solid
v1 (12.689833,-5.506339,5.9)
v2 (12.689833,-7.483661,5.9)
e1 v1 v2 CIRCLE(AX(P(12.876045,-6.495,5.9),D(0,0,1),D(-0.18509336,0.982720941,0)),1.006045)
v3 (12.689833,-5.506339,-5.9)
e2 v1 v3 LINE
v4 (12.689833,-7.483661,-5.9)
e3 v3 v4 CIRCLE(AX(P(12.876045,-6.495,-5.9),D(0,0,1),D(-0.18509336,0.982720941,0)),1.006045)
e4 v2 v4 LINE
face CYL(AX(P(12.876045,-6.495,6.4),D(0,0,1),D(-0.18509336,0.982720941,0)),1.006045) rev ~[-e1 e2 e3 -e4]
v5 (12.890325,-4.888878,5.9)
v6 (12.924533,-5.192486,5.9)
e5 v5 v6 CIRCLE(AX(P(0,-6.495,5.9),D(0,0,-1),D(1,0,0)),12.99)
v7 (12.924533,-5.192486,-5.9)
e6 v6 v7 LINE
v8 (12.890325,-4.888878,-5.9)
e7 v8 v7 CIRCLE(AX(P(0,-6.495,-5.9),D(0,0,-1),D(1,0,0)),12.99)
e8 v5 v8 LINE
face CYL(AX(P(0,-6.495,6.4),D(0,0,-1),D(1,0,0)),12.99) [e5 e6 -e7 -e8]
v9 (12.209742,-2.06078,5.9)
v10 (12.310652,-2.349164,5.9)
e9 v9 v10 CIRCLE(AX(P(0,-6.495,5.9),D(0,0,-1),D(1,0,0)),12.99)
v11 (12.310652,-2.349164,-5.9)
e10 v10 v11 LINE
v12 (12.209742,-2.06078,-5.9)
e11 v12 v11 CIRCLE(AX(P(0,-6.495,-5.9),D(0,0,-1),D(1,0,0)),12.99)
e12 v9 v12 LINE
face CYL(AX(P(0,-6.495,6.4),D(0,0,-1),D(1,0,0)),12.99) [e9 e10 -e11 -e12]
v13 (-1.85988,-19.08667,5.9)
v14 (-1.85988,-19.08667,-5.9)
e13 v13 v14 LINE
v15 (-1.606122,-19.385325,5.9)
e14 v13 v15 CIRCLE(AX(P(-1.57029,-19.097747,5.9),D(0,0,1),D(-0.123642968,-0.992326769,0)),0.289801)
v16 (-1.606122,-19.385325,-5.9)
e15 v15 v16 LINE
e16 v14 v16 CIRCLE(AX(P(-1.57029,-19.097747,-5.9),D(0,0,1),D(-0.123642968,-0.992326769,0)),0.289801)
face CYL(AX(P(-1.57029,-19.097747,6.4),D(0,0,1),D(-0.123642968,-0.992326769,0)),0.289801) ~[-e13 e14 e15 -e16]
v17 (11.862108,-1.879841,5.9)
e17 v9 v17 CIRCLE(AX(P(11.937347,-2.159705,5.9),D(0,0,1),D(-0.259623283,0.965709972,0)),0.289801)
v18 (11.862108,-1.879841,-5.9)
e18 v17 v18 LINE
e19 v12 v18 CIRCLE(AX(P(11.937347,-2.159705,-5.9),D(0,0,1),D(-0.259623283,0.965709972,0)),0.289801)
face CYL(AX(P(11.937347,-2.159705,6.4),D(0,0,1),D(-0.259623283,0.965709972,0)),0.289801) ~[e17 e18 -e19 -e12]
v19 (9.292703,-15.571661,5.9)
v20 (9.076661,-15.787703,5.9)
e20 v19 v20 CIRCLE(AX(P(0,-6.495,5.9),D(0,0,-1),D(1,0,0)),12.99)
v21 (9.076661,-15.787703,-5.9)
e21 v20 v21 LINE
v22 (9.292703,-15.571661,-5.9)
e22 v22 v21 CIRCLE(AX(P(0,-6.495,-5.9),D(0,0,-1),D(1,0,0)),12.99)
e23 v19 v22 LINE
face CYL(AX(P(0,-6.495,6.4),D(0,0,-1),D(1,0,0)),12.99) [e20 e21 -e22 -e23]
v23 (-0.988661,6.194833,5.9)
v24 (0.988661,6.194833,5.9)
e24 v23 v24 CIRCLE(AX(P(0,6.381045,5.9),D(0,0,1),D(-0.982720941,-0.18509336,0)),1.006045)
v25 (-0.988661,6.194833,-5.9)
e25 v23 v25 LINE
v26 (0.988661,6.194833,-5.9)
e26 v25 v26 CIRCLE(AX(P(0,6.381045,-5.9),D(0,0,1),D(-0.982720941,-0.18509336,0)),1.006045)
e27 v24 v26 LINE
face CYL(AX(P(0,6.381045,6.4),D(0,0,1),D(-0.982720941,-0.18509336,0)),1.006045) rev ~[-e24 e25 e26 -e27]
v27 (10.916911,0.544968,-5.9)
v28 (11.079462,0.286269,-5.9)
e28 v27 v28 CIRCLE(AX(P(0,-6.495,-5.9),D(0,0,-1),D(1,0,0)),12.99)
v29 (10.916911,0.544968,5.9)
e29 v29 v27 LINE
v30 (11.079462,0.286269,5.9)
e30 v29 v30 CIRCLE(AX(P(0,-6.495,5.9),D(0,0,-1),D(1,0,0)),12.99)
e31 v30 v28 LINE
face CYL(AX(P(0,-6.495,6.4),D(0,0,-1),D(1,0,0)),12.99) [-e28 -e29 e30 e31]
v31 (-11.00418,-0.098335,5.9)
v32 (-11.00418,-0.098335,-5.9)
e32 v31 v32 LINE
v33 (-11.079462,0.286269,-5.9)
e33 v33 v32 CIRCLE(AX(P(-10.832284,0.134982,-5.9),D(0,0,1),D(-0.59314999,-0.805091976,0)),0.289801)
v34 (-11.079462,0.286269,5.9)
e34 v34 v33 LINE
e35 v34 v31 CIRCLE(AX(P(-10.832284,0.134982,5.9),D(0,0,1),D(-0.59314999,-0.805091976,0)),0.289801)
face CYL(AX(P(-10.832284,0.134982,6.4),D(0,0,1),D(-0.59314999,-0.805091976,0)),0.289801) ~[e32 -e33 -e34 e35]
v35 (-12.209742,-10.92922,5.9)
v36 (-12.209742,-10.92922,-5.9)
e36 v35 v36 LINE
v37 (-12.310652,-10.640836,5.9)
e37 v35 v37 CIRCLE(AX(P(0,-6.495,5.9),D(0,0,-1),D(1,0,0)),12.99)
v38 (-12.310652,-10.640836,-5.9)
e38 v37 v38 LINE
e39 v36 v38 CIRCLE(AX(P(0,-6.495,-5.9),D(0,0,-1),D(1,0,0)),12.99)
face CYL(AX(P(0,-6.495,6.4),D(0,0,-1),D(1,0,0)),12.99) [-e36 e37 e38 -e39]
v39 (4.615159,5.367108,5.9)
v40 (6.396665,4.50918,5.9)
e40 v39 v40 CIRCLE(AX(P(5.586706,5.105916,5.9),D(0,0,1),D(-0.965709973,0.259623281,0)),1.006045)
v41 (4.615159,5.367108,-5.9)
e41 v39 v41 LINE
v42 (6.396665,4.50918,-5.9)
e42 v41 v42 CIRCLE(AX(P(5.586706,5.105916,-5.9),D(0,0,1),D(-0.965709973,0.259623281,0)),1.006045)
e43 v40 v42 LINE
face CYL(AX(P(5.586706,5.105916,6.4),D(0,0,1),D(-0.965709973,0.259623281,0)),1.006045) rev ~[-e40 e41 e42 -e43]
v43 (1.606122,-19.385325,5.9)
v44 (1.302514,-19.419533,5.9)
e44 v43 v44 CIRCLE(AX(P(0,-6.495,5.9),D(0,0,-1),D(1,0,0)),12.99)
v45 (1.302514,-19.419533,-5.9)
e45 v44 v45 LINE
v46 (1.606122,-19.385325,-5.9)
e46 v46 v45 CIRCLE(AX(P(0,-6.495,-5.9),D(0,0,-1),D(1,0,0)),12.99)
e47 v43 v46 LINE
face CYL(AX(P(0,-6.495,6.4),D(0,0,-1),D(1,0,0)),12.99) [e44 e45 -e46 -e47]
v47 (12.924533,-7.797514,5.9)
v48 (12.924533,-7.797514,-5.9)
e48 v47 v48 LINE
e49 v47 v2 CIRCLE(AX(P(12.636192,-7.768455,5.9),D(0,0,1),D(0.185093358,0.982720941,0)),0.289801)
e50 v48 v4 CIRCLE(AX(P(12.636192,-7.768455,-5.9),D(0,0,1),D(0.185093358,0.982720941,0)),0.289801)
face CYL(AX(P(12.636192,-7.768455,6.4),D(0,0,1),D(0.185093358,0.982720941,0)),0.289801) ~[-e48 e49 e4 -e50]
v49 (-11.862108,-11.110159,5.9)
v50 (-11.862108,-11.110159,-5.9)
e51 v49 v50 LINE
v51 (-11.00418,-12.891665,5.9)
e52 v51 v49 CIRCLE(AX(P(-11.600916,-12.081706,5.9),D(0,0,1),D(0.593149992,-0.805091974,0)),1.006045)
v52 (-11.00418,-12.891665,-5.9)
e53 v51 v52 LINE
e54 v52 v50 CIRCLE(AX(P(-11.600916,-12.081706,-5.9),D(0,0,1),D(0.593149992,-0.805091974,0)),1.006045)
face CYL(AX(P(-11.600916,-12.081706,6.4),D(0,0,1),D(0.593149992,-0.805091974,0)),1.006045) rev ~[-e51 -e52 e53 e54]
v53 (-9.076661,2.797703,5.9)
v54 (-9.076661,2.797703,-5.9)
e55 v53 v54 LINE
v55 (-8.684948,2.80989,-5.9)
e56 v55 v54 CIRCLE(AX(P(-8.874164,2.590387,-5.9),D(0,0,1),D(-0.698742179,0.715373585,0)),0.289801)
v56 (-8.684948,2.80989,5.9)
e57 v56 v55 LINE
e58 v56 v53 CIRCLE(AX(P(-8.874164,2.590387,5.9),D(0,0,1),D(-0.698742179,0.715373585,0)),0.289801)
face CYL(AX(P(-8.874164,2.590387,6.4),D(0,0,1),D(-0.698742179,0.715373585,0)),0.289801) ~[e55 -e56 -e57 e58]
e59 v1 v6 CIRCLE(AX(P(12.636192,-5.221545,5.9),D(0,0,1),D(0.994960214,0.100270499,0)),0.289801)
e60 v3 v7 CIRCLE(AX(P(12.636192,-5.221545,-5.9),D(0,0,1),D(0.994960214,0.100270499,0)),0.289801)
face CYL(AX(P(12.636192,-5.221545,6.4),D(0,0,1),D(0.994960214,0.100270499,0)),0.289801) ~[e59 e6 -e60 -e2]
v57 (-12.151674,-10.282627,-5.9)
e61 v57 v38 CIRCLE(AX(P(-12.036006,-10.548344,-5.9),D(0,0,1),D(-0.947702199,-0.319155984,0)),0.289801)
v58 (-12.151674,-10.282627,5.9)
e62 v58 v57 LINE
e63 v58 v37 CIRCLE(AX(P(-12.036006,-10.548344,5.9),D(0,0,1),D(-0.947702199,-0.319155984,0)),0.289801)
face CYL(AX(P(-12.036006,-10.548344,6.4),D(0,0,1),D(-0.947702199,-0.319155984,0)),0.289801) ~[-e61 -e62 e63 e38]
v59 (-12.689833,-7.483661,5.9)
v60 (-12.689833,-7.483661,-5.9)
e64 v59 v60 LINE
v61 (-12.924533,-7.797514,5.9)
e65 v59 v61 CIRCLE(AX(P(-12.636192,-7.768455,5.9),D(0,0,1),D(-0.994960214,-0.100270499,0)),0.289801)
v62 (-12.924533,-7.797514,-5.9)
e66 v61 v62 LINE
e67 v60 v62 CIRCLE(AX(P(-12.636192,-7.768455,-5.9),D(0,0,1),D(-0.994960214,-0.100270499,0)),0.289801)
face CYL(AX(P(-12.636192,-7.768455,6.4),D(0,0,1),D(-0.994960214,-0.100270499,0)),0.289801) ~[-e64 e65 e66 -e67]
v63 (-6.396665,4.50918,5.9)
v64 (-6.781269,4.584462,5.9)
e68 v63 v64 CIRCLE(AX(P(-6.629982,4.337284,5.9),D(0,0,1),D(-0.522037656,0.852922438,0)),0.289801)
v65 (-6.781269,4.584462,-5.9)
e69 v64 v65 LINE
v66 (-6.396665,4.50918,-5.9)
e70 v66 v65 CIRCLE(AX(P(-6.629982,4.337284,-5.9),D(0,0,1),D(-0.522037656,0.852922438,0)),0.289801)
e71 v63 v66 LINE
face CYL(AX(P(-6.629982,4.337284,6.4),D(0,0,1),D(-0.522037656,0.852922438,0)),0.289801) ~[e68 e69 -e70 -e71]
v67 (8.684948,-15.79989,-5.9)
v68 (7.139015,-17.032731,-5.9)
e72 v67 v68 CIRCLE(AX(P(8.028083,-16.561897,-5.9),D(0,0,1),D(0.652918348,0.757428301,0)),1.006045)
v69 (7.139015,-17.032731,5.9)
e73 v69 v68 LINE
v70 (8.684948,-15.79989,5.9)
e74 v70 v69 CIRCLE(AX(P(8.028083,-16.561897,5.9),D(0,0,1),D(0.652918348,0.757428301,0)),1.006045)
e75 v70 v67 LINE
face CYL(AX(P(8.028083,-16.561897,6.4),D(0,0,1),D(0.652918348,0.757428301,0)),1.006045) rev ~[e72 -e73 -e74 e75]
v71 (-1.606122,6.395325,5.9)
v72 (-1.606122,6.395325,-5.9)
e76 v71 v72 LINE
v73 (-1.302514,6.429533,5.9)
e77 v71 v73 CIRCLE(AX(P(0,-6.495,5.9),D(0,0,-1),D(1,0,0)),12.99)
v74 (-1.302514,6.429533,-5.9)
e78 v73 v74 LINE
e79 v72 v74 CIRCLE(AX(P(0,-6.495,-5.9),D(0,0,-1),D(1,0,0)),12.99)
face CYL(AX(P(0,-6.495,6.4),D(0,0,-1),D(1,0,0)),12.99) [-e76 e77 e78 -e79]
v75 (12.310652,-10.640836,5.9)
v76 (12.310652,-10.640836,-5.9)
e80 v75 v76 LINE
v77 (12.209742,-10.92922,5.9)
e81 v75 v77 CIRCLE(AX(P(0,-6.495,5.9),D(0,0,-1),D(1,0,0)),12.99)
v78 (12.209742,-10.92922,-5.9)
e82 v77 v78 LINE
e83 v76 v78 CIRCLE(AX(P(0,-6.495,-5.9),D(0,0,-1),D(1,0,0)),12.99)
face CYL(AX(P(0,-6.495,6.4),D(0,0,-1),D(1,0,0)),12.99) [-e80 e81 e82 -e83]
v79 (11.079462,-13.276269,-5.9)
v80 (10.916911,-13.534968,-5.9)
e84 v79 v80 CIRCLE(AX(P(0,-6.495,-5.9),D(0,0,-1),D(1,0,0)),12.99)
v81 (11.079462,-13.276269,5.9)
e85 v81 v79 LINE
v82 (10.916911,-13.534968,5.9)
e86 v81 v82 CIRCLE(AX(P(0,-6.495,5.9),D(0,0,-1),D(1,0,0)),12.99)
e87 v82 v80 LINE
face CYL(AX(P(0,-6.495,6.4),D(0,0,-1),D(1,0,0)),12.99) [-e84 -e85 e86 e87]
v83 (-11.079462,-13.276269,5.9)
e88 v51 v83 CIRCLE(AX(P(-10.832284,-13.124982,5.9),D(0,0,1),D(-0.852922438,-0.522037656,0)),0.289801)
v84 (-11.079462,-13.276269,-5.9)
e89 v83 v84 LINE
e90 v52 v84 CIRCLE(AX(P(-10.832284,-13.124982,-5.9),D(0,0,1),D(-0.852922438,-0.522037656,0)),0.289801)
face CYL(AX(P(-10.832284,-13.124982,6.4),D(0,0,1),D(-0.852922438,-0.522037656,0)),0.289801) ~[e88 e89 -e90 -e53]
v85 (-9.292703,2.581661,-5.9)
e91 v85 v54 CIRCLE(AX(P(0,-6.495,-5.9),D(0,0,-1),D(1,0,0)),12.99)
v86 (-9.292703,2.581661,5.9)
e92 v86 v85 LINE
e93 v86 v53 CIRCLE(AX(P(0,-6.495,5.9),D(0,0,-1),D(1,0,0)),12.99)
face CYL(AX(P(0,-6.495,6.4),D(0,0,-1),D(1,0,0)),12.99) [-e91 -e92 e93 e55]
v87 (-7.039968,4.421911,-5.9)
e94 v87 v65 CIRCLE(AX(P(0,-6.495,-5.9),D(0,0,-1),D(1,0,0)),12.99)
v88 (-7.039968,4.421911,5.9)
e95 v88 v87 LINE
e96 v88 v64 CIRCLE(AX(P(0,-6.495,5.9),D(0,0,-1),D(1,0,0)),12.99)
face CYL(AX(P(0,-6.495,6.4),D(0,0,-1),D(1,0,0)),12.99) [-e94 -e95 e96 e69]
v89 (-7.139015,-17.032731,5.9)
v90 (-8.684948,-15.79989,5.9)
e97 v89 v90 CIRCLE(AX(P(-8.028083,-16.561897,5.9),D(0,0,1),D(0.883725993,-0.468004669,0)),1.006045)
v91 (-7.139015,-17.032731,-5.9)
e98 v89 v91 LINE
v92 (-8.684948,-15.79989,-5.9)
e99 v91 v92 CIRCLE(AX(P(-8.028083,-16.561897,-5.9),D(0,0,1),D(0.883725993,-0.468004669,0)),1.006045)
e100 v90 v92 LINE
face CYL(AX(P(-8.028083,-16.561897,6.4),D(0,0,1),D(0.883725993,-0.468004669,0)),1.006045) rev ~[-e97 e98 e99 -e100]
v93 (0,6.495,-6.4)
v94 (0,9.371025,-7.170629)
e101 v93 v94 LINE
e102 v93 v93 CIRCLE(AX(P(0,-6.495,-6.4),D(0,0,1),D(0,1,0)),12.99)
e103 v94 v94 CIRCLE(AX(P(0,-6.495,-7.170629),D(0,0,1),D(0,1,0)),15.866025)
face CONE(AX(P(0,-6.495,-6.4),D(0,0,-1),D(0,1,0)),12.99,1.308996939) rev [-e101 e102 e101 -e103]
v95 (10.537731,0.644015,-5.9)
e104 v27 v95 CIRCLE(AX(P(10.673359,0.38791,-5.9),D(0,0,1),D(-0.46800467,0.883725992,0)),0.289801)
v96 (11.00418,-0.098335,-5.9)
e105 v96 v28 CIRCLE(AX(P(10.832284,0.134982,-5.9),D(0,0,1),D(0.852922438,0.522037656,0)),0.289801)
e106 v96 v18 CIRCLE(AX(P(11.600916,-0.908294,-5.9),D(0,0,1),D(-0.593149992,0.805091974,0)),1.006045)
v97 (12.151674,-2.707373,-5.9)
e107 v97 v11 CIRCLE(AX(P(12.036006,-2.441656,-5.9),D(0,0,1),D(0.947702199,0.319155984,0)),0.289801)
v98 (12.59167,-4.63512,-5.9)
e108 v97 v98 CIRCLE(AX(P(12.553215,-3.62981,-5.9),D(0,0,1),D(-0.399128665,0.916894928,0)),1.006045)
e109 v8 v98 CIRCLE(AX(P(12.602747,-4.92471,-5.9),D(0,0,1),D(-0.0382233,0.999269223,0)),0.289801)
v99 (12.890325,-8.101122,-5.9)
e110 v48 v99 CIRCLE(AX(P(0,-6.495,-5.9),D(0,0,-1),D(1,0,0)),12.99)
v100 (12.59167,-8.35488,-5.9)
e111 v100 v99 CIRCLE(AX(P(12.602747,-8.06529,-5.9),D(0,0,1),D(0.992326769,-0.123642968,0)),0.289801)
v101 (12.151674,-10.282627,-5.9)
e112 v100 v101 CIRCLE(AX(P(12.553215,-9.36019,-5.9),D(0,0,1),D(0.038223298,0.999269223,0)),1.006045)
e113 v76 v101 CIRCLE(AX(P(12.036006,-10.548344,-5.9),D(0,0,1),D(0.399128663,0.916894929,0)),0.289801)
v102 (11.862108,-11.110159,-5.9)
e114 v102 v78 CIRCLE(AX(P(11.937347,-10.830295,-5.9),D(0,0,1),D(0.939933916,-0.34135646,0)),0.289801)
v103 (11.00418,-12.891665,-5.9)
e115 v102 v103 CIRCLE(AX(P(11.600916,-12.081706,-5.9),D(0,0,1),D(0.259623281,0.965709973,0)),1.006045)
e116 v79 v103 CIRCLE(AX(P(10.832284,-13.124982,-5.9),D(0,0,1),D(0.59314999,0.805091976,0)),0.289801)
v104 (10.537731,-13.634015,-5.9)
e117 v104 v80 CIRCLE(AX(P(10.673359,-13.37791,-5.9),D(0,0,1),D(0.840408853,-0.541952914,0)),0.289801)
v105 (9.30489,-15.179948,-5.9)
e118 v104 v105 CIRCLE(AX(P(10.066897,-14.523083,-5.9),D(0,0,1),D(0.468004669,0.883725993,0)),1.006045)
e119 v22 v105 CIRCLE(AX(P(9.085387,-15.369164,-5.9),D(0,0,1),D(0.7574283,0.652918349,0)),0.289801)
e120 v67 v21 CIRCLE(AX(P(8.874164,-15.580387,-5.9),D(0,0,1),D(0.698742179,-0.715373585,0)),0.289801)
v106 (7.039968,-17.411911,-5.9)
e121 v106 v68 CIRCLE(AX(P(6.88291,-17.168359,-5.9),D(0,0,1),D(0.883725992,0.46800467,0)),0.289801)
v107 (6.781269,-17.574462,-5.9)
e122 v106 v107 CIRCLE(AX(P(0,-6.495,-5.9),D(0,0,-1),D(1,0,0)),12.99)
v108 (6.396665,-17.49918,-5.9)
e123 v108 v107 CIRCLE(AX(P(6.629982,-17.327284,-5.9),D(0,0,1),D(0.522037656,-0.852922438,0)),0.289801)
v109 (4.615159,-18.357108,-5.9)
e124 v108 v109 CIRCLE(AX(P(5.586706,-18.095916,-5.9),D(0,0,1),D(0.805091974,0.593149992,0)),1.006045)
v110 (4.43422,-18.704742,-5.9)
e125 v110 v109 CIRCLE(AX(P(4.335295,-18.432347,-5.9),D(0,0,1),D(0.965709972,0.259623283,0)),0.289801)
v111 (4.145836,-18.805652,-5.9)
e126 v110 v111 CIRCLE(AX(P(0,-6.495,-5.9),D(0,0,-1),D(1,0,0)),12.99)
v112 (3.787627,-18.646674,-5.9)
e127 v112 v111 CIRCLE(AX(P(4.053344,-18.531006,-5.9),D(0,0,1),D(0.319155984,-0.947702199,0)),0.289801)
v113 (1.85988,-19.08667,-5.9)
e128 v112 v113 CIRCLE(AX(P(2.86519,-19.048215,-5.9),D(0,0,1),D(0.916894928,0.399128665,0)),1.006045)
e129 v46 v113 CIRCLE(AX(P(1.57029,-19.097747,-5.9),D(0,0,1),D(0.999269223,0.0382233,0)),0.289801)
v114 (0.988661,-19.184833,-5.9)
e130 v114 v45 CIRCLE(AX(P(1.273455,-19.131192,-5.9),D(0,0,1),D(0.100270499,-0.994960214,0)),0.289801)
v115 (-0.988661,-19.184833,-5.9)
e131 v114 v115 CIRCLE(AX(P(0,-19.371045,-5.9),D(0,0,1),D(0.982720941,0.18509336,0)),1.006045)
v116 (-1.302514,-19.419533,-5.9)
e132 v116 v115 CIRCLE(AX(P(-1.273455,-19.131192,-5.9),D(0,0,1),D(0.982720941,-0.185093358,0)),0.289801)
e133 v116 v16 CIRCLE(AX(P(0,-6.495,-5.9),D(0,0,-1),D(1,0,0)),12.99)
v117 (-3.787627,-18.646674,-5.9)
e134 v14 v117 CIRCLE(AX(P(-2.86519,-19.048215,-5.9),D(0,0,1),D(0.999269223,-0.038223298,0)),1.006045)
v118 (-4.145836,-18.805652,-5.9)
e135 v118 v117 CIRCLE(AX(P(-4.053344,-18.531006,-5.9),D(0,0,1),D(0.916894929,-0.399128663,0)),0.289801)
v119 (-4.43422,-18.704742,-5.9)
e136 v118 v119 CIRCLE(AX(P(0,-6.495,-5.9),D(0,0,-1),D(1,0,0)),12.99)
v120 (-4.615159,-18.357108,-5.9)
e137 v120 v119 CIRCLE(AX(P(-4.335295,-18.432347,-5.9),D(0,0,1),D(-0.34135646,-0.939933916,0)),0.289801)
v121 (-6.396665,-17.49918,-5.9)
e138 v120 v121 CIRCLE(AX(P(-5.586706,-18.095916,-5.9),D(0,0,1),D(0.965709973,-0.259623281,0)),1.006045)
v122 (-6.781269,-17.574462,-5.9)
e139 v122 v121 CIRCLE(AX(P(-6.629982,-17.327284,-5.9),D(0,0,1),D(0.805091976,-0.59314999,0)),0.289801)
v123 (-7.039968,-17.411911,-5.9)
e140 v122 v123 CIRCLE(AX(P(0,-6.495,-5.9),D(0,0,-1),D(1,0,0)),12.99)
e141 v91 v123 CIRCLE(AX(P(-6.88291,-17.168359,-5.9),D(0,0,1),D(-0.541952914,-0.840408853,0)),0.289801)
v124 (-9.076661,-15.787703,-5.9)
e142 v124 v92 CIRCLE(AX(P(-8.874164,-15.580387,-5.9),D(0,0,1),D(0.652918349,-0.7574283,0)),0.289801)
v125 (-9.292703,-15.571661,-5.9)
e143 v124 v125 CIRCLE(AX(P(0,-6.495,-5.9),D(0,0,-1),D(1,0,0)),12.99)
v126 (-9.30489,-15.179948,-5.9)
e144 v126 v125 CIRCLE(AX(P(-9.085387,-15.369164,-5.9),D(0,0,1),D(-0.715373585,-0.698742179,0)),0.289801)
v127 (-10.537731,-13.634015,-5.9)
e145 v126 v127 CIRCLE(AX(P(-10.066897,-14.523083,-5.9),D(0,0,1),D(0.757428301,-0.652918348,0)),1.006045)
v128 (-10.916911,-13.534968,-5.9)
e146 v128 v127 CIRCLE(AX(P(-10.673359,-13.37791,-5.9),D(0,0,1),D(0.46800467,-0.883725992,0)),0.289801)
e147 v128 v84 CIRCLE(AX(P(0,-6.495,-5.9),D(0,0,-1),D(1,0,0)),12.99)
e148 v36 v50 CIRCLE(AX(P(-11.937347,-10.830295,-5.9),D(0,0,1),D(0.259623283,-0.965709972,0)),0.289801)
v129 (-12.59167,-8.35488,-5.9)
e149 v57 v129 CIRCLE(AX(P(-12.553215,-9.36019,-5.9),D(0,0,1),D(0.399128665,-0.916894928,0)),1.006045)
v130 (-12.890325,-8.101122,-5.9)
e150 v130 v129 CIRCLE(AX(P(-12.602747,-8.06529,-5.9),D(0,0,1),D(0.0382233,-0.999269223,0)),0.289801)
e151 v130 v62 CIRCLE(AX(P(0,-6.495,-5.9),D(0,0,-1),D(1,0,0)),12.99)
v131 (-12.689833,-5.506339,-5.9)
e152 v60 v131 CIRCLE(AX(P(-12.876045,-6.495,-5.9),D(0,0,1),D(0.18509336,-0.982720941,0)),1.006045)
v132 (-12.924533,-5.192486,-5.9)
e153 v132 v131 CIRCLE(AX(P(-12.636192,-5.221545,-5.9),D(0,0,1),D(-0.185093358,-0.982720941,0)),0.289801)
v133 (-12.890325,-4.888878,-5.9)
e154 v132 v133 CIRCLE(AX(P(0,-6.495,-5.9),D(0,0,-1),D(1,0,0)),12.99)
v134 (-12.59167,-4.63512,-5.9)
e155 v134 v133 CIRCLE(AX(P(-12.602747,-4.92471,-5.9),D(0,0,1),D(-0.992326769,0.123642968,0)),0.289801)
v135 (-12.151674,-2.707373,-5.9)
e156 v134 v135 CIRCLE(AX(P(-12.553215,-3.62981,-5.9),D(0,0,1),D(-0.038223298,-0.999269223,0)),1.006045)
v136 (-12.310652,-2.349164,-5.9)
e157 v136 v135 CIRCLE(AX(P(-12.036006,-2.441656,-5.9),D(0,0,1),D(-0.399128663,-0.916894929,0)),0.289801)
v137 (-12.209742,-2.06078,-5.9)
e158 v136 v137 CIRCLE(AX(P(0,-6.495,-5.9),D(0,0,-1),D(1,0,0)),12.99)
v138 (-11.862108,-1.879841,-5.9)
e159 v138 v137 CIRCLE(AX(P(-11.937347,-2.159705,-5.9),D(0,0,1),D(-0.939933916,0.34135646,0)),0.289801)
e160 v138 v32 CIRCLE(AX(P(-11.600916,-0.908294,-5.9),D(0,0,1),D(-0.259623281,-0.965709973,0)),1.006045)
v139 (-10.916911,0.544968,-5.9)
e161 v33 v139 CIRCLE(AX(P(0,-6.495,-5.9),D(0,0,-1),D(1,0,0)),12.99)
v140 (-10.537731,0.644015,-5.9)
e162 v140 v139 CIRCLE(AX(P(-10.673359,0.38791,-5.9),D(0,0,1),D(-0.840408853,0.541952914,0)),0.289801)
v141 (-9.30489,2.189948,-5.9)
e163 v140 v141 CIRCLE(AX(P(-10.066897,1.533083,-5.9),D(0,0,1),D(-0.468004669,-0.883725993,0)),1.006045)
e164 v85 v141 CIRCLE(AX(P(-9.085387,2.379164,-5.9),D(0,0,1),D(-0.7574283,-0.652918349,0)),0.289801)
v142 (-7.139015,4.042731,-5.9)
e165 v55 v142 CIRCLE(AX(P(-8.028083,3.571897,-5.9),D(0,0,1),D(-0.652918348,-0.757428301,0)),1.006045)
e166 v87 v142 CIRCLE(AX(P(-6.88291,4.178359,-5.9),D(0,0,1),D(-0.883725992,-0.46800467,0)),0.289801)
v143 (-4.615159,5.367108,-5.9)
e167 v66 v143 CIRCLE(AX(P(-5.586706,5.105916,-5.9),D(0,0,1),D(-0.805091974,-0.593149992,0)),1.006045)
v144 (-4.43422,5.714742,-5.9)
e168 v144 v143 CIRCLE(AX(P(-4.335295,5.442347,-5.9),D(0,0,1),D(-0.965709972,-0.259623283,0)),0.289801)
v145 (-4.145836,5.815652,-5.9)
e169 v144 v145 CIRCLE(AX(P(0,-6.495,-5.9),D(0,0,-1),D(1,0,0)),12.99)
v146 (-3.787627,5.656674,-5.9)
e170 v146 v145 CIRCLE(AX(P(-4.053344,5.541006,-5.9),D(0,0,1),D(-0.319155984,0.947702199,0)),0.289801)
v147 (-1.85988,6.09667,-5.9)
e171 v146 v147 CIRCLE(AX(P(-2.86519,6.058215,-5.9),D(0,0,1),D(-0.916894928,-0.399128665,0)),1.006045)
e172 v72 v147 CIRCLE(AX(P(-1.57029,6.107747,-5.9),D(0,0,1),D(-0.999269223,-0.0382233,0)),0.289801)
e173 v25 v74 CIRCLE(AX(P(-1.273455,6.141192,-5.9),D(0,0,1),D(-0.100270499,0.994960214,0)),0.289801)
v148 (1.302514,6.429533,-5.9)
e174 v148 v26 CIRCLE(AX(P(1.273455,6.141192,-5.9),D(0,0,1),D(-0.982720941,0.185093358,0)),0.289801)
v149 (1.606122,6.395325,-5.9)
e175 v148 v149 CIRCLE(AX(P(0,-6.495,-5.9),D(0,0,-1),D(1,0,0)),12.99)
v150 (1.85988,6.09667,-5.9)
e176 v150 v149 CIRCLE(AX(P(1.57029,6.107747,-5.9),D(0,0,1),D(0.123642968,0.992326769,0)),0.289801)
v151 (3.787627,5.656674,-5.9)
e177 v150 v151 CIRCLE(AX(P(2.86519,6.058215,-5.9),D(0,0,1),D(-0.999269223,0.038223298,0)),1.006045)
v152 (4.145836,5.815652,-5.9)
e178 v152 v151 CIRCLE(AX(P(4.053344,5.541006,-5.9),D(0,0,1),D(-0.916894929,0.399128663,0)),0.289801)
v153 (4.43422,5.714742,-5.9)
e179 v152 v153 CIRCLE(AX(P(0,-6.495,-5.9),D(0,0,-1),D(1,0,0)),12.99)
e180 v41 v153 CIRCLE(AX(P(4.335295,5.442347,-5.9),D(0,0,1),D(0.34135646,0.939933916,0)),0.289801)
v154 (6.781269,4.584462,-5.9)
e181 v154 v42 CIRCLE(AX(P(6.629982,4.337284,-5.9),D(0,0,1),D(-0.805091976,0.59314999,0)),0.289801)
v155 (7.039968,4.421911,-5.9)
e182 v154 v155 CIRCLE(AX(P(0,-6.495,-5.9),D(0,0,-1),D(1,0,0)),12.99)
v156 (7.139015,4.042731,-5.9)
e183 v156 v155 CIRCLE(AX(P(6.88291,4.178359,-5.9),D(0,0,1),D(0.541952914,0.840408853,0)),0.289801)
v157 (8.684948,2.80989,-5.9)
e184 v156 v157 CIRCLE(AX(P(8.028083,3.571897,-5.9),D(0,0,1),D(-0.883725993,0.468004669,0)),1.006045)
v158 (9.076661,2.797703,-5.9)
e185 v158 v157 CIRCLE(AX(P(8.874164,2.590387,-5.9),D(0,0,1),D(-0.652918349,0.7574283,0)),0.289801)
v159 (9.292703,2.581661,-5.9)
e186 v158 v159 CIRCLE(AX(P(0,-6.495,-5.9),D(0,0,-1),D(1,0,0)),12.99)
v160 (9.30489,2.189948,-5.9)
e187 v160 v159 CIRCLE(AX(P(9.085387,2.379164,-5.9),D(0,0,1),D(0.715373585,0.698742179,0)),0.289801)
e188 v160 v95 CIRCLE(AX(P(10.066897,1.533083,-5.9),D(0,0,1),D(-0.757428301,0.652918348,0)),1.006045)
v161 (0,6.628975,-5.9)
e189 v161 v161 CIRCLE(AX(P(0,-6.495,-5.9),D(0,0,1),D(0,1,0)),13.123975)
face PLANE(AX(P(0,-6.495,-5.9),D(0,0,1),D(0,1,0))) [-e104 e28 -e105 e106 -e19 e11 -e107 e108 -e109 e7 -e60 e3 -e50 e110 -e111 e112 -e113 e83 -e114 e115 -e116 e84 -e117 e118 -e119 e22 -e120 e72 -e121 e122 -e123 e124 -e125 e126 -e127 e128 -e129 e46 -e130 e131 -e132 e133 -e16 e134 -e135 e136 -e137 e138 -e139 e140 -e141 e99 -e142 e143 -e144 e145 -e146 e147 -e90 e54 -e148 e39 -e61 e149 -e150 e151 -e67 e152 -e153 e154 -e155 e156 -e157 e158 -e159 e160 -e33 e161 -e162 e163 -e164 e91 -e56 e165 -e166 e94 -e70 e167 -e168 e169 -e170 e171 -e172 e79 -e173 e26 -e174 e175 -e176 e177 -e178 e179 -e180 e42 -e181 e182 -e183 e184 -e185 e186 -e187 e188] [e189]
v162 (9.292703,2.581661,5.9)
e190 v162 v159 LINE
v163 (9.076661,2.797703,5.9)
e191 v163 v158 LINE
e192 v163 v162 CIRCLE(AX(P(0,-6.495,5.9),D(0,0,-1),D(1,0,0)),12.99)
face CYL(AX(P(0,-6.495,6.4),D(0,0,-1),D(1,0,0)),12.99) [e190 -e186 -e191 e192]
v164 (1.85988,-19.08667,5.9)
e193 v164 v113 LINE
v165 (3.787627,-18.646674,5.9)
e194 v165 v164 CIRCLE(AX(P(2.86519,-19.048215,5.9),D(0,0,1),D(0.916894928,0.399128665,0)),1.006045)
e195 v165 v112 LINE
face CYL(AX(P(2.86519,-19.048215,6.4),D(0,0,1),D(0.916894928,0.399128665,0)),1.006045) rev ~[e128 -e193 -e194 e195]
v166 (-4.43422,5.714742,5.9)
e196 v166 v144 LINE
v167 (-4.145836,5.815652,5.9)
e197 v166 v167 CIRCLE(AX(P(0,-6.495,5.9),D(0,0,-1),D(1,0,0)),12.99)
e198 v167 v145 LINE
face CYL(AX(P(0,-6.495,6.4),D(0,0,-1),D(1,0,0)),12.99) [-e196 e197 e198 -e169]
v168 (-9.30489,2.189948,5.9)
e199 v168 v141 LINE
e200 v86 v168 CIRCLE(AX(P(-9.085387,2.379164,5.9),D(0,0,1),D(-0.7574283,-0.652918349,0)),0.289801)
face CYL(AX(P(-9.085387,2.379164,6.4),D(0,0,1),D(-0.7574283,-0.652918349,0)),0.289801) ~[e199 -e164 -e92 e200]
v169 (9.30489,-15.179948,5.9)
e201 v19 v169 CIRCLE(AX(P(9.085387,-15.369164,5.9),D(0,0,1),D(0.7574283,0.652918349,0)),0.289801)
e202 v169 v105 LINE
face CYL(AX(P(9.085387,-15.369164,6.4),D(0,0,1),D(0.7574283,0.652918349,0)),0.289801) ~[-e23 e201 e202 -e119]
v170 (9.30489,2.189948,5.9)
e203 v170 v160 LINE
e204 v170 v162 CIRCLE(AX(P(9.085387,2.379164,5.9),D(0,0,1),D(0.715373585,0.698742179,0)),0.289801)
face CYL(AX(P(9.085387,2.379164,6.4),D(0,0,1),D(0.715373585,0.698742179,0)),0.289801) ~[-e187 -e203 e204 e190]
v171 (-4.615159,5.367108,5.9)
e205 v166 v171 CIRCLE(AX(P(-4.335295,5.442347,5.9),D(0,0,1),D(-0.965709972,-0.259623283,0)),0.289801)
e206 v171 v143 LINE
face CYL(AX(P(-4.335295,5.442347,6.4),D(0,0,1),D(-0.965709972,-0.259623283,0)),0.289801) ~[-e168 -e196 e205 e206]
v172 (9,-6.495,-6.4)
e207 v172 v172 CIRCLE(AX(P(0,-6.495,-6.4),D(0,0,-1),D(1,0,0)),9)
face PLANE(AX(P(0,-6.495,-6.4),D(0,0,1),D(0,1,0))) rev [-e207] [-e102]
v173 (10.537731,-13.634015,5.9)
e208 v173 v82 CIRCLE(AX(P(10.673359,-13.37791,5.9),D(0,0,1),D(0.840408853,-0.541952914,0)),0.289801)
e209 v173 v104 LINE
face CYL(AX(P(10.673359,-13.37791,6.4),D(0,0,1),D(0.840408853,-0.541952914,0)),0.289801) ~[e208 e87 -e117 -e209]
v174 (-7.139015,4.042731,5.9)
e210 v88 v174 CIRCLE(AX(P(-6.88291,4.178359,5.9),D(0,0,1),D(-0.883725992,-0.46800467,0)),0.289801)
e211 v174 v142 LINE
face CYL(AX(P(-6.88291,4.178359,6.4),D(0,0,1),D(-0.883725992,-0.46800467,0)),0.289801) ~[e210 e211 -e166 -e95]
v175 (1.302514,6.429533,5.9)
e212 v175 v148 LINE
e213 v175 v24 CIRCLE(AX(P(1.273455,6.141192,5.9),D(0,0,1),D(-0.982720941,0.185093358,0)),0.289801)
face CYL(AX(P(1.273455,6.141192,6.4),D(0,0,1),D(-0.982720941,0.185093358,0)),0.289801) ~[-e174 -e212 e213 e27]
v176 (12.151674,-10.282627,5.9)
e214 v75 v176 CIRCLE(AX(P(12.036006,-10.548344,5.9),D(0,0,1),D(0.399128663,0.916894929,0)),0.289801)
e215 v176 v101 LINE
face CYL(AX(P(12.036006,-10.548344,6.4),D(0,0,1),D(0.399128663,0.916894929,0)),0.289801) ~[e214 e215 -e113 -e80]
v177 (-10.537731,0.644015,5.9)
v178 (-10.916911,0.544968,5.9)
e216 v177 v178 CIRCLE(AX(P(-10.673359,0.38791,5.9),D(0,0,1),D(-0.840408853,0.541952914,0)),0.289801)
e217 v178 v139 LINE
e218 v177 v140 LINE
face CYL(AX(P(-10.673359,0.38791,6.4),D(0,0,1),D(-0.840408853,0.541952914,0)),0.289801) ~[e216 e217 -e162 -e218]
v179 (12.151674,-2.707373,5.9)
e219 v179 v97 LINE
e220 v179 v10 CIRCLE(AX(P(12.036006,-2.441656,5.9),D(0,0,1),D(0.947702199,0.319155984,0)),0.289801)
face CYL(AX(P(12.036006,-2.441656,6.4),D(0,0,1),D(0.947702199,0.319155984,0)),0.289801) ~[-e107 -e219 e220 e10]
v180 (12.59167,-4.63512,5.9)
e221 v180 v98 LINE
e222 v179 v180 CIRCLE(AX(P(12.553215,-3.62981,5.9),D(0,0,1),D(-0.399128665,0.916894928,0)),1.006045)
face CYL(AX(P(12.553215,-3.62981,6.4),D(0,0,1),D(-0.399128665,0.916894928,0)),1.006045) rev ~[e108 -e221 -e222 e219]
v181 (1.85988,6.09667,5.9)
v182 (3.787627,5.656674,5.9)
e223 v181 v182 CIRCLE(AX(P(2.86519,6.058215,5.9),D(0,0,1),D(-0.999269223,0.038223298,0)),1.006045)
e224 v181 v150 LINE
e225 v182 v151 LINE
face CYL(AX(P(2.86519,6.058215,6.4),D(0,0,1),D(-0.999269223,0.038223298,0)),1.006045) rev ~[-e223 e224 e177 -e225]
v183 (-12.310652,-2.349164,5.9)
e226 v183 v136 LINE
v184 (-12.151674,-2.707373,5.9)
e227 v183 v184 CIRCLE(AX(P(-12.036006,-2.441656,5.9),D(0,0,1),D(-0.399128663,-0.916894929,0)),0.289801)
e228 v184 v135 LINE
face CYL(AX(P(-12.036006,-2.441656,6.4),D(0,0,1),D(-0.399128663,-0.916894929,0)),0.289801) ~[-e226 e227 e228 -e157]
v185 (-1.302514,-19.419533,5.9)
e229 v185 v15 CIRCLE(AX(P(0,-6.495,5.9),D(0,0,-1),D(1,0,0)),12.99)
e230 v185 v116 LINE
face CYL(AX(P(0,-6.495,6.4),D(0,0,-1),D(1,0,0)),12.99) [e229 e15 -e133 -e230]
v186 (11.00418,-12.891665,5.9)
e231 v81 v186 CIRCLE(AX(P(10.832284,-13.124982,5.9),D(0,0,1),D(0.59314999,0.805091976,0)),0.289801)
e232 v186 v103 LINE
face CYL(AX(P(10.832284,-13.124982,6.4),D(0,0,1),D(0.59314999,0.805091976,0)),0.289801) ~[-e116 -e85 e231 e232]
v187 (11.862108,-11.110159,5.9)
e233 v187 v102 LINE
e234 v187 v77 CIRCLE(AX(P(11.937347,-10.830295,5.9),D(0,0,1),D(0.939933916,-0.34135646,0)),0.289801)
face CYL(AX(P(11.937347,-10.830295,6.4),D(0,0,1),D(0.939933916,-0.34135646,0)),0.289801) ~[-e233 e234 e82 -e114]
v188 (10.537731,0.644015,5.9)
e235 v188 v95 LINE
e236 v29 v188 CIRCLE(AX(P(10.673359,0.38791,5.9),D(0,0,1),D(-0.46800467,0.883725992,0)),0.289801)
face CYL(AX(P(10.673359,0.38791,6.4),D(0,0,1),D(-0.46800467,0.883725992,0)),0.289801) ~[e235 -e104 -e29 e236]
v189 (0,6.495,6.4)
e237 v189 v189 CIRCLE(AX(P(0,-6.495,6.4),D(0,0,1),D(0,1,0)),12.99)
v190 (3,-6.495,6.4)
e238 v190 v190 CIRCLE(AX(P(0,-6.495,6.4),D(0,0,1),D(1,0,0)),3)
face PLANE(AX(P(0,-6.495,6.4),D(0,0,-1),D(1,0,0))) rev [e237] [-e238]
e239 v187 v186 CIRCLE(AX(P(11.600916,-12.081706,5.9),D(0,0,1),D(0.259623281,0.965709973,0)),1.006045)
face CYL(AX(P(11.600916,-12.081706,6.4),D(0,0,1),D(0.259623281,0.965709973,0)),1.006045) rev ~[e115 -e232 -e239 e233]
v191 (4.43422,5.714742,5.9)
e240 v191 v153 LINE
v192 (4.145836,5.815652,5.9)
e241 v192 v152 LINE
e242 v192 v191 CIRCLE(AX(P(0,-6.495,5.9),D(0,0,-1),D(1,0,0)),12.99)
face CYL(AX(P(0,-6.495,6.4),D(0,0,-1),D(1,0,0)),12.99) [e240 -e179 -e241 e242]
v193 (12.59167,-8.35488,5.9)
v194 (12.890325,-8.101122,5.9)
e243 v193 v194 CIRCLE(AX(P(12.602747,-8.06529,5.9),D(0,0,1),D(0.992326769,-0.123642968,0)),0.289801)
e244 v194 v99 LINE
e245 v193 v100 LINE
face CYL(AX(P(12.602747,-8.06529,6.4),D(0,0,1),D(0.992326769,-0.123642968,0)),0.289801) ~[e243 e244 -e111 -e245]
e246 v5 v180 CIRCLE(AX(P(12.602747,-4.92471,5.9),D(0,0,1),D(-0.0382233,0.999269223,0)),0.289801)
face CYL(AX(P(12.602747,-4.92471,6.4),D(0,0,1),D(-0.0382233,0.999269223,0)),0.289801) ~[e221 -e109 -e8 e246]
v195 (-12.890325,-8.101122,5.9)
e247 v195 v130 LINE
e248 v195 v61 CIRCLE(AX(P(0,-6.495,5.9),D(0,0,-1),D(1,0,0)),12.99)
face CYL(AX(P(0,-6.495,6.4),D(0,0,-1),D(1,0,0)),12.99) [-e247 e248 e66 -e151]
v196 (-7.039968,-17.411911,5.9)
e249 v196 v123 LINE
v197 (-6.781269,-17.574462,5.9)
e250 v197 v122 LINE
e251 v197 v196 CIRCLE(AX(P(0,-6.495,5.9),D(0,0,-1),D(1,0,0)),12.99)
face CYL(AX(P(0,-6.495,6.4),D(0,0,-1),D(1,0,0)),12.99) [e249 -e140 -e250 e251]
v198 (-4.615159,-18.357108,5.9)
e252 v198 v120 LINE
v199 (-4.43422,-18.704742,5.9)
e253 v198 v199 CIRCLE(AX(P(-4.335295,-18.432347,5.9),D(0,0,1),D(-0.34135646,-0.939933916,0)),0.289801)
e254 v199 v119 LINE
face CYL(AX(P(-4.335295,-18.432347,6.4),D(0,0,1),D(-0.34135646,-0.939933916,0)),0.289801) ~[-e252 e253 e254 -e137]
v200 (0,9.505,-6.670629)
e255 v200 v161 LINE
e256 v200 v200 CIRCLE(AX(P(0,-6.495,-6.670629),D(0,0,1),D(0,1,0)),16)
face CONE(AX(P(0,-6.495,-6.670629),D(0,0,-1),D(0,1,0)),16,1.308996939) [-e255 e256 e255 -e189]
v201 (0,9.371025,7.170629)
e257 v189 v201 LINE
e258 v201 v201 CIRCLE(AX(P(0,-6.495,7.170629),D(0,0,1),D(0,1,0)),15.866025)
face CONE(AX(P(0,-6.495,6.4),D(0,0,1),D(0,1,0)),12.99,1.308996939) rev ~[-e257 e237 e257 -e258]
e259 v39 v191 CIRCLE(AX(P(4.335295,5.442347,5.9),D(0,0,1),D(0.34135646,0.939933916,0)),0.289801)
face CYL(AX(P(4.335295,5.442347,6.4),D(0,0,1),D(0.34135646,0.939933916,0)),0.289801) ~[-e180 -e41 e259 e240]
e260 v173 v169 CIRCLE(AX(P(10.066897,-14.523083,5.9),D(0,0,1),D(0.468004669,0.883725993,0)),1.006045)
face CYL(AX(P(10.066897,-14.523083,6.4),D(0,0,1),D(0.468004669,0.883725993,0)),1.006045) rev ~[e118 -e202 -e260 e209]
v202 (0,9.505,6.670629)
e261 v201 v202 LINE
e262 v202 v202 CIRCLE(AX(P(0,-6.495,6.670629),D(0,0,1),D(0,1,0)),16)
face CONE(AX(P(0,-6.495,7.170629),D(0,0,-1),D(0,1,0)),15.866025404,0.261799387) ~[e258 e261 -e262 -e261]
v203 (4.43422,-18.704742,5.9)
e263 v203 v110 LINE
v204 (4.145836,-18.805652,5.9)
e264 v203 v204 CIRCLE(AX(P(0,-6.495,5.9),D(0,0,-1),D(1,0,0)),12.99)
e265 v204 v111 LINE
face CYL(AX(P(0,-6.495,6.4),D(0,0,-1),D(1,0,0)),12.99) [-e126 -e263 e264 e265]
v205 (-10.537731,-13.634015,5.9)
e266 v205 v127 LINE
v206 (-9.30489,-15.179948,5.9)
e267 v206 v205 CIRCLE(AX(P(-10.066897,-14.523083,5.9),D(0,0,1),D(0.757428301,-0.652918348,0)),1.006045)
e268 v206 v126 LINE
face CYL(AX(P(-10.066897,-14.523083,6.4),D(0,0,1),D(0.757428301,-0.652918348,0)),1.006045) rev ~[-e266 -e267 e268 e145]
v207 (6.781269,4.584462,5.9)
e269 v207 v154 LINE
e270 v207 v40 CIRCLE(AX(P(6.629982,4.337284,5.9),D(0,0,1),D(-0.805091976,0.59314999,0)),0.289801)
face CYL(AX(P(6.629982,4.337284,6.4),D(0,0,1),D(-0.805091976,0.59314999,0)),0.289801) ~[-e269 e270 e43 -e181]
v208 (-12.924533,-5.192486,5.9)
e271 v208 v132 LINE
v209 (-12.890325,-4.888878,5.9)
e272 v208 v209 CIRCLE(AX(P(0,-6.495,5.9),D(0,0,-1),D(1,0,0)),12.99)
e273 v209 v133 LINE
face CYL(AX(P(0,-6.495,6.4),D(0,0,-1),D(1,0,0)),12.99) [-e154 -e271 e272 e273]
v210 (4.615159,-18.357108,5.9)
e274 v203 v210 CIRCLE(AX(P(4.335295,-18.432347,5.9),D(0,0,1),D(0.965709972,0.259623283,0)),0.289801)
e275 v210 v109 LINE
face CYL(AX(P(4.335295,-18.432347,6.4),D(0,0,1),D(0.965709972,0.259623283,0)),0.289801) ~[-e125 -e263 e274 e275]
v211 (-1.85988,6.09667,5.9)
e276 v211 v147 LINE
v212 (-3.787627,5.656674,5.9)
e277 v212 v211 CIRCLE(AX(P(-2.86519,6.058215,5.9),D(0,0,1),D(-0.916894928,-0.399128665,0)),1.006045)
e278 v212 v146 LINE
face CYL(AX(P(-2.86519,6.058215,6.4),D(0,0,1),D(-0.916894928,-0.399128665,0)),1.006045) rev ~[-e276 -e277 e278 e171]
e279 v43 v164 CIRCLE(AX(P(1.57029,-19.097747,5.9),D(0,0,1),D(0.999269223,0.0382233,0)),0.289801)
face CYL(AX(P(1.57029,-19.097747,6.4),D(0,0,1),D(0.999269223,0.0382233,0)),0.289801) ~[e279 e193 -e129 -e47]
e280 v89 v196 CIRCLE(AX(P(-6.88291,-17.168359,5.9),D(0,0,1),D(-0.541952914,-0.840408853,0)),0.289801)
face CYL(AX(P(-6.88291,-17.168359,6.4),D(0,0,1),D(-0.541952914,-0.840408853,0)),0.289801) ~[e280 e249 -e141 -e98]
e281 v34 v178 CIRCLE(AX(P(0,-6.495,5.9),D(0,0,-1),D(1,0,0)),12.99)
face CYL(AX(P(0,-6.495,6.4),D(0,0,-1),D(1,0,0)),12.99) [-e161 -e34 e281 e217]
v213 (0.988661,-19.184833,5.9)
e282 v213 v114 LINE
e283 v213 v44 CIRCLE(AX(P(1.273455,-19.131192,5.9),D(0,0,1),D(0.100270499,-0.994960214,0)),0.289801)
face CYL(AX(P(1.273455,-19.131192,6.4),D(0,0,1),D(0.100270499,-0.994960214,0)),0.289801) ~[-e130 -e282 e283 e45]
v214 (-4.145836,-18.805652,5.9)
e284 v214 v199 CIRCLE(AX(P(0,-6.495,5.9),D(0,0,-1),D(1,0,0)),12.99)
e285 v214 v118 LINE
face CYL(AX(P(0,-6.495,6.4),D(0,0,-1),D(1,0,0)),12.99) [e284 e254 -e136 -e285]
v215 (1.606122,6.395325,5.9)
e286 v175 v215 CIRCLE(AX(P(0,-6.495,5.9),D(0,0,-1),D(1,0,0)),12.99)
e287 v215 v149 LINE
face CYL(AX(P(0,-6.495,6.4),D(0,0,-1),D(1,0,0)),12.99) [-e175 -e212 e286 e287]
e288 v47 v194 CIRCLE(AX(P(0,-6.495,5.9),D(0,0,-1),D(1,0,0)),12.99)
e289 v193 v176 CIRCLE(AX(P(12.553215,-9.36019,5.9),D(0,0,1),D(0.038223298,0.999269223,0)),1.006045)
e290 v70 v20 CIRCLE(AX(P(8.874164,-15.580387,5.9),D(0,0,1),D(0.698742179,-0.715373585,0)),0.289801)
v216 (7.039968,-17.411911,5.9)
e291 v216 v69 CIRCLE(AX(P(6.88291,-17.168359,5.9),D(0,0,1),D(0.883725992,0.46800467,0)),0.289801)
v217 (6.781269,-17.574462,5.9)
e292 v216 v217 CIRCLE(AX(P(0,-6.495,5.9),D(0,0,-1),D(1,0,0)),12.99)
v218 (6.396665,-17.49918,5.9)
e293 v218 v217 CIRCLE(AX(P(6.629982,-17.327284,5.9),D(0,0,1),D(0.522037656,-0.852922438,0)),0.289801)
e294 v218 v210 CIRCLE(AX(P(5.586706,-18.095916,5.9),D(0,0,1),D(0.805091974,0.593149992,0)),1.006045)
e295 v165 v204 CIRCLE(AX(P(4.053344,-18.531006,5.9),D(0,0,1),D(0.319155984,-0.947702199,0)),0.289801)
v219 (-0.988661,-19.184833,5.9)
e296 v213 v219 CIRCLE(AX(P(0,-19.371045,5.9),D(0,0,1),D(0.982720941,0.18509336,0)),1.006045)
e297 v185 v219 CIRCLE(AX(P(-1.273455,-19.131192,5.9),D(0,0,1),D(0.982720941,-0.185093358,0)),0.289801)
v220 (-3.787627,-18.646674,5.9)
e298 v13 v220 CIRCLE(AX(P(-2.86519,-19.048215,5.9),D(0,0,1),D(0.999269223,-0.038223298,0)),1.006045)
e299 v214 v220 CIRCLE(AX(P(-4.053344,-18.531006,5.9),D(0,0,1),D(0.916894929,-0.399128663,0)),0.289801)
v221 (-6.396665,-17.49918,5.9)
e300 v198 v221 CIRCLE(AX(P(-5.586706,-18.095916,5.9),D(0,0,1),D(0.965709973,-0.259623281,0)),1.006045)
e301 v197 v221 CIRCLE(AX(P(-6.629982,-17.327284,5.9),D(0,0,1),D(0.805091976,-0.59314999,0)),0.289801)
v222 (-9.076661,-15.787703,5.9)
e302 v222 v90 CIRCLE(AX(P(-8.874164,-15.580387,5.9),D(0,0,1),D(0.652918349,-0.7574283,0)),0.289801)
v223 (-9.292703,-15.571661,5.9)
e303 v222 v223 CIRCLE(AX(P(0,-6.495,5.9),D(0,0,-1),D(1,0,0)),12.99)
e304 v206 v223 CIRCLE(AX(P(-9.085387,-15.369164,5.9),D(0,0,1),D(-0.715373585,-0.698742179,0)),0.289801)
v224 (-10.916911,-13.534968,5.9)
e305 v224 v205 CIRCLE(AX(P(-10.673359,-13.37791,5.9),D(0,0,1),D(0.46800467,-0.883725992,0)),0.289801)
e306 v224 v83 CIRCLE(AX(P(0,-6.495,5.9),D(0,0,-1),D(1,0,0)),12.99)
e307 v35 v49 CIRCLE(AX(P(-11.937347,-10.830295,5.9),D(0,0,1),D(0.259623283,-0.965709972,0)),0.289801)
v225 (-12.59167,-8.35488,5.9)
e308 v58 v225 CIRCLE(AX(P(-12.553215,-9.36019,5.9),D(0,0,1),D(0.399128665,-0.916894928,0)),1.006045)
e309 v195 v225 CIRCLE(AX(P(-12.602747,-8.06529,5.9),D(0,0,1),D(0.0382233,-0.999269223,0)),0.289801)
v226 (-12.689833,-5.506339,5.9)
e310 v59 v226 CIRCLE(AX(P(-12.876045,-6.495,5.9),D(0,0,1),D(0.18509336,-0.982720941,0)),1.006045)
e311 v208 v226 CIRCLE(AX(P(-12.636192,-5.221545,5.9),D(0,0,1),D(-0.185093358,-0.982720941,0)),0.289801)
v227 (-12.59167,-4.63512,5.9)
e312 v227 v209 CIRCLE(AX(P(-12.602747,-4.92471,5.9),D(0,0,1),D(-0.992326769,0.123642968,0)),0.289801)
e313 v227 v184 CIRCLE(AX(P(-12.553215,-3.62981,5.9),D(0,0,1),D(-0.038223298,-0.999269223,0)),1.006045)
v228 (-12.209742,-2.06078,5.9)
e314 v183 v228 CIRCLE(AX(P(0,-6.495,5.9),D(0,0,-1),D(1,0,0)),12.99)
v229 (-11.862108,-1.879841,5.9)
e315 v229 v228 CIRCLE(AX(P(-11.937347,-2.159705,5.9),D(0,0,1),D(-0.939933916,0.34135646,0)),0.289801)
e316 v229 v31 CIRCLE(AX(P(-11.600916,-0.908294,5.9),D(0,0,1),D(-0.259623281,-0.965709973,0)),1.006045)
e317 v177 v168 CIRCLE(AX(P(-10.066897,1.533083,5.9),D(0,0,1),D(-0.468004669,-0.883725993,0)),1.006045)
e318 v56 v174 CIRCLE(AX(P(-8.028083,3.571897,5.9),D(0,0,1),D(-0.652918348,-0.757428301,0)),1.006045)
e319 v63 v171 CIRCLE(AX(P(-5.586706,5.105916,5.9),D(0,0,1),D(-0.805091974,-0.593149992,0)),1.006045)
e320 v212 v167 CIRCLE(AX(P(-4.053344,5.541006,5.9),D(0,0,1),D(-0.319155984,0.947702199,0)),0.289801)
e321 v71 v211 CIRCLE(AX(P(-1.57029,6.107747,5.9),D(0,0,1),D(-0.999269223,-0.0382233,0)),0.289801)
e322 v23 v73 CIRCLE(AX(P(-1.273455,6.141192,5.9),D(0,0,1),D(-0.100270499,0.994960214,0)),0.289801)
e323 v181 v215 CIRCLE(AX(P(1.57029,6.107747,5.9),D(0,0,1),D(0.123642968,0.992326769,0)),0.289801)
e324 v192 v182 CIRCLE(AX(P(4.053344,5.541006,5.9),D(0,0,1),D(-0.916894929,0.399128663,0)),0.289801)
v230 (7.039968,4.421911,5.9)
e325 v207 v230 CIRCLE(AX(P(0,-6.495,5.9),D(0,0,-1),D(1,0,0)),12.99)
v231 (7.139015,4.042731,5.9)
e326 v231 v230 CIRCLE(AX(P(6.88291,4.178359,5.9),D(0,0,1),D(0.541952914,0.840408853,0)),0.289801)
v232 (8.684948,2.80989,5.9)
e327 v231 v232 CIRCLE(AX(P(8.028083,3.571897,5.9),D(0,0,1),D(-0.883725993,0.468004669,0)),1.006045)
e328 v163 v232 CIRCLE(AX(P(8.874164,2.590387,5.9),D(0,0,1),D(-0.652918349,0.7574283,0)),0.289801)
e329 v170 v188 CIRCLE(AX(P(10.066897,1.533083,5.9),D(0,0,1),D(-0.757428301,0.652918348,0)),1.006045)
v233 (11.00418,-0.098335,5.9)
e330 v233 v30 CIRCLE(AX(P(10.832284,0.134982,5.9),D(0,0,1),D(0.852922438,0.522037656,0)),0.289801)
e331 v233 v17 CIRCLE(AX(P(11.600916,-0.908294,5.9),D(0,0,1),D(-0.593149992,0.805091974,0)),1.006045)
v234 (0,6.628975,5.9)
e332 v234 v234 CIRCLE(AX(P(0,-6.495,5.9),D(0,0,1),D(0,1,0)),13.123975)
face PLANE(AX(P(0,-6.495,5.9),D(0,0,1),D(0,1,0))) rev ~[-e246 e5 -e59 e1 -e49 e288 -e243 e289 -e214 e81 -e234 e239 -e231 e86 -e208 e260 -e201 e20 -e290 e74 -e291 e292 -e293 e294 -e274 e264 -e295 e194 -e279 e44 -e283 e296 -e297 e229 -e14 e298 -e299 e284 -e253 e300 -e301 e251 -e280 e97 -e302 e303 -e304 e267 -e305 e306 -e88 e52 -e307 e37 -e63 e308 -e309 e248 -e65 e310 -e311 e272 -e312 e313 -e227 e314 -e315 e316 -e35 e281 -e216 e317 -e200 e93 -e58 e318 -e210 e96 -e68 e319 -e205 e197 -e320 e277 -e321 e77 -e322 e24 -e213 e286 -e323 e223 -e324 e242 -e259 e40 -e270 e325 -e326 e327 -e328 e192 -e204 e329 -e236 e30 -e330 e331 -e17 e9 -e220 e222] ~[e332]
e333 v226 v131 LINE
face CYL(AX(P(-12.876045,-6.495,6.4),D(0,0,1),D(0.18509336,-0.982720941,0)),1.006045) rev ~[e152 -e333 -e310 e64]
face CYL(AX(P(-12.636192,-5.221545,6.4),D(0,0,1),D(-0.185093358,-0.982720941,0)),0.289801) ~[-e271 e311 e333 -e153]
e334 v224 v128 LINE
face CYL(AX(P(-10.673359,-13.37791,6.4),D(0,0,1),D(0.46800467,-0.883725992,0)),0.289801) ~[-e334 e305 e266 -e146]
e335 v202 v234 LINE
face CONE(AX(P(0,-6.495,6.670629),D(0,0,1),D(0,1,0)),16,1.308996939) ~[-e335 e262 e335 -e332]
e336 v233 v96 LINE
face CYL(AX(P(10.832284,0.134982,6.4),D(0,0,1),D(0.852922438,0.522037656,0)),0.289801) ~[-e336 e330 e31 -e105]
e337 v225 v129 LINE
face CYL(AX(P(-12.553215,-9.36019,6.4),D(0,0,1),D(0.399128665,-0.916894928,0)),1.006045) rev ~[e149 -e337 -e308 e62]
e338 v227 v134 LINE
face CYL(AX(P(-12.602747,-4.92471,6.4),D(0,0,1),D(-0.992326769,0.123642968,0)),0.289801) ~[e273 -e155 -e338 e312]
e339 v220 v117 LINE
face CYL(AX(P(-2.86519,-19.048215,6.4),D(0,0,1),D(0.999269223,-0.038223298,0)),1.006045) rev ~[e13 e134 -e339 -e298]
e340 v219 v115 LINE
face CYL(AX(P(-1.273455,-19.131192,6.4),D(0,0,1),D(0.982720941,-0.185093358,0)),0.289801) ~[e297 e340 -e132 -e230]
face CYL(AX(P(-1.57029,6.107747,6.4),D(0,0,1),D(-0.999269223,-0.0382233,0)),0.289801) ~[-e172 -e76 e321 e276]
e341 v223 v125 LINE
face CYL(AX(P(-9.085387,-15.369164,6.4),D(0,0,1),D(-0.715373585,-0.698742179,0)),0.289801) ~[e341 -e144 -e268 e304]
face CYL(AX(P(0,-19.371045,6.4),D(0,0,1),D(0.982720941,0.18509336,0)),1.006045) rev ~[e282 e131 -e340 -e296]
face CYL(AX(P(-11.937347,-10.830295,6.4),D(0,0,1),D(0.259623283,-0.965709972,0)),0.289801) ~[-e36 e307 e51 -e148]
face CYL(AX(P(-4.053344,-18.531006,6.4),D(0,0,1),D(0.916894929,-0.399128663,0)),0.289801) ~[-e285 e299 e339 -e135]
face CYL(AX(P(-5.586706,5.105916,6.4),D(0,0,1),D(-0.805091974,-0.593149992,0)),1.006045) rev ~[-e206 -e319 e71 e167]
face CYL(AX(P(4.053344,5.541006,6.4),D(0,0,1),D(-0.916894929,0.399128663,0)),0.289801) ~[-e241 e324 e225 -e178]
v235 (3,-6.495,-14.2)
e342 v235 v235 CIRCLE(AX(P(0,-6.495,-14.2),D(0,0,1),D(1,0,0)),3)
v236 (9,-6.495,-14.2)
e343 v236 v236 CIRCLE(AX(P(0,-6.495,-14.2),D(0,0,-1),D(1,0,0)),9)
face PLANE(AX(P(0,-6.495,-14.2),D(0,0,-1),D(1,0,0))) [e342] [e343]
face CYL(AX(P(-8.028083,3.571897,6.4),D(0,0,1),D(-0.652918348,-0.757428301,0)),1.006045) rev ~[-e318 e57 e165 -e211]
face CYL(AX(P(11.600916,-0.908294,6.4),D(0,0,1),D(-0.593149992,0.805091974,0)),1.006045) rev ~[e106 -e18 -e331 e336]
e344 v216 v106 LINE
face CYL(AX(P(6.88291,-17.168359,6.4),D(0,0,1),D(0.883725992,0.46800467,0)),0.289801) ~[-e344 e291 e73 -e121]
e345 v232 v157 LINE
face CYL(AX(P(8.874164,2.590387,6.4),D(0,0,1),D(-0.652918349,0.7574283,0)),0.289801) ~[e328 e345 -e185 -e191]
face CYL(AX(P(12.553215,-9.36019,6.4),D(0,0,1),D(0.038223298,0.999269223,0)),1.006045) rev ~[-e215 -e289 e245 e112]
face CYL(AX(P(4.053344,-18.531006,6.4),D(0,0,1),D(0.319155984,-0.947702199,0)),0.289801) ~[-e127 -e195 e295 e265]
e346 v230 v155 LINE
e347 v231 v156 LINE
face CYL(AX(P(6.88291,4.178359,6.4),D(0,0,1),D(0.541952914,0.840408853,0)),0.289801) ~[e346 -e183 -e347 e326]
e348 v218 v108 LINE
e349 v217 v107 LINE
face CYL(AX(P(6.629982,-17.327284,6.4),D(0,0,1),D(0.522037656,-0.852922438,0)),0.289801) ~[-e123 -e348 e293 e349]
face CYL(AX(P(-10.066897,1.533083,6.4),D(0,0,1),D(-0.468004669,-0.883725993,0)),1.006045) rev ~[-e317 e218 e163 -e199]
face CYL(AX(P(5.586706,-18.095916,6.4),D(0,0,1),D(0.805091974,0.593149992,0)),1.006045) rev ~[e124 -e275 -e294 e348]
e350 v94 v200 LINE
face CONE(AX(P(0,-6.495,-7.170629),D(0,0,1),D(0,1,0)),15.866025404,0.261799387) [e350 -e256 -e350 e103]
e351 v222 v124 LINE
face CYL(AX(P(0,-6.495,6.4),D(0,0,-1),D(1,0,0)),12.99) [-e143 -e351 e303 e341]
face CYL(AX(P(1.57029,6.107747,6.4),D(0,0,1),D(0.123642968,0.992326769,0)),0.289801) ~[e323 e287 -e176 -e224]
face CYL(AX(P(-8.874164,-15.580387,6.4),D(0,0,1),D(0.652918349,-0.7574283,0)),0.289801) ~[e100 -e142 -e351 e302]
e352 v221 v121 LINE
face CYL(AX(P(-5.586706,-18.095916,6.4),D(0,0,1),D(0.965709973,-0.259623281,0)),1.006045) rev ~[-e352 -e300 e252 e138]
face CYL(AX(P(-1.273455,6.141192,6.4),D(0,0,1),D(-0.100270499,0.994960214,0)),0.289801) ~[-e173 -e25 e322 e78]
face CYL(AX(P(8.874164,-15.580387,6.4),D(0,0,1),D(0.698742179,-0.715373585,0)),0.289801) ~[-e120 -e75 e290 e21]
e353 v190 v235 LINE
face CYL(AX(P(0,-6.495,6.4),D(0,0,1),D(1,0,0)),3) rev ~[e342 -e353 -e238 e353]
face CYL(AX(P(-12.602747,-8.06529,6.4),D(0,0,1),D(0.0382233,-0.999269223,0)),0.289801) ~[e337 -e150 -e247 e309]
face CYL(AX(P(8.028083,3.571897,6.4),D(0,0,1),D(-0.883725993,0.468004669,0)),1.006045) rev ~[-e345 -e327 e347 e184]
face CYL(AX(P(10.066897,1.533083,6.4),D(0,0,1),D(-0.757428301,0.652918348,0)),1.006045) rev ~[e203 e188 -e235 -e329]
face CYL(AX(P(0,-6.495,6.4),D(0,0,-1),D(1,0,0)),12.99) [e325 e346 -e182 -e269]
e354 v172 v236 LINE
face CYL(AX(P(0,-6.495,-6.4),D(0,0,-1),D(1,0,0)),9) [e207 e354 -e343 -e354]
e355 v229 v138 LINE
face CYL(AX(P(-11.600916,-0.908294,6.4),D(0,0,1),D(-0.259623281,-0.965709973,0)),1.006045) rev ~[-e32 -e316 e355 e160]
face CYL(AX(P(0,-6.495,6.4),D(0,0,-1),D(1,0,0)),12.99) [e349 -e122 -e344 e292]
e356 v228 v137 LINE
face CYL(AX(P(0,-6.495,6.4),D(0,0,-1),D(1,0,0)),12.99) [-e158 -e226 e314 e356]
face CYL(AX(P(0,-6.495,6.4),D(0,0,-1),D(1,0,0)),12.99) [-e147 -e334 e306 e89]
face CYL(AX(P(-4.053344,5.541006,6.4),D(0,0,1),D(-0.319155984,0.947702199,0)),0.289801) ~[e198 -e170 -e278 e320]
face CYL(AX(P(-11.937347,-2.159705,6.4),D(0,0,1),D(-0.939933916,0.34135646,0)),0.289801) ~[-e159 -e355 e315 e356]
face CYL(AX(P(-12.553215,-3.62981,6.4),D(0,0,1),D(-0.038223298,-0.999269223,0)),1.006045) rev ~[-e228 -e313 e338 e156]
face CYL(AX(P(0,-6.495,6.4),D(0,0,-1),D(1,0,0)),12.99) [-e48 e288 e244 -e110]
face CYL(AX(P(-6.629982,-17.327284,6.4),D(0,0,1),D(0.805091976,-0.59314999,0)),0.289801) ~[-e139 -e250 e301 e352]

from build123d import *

# Parameters (mm, degrees)
KUGGLUCKA_DEPTH  = 12.8
CIRPATTERN_COUNT = 28
RITNING_4_R      = 3
AXELH_L_DEPTH    = 35.443940323


with BuildPart() as part:
    # Ritning 1 → Kugghjulsämne (revolve)
    with BuildSketch(Plane(origin=(0, 0, 0), x_dir=(0, 0, -1), z_dir=(1, 0, 0)), mode=Mode.PRIVATE) as kugghjuls_mne_sk:
        Polygon((6.4, 6.495), (6.4, 2.505), (14.2, 2.505), (14.2, -6.495), (6.4, -6.495), (-6.4, -6.495), (-6.4, 6.495), align=None)
    revolve(kugghjuls_mne_sk.sketch.rotate(Axis((0, -6.495, 6.4), (0, 0, -1)), 90), axis=Axis((0, -6.495, 6.4), (0, 0, -1)))

    # Ritning 2 → Kugglucka (cut)
    with BuildSketch(Plane.XY.offset(6.4)):
        with BuildLine():
            Line((1.302513782, 6.429533177), (1.302513782, 7.549533177))
            Line((1.302513782, 7.549533177), (-1.302513782, 7.549533177))
            Line((-1.302513782, 7.549533177), (-1.302513782, 6.429533177))
            ThreePointArc((-1.302513782, 6.429533177), (-1.099900528, 6.373277677), (-0.988661303, 6.194832596))
            ThreePointArc((-0.988661303, 6.194832596), (0, 5.375), (0.988661303, 6.194832596))
            ThreePointArc((0.988661303, 6.194832596), (1.099900528, 6.373277677), (1.302513782, 6.429533177))
        make_face()
    kugglucka = extrude(amount=-KUGGLUCKA_DEPTH, mode=Mode.SUBTRACT)

    # CirPattern: Kugglucka ×28 about axis
    cirpattern_axis = Axis((0, -6.495, 0), (0, 0, 1))
    for i in range(1, CIRPATTERN_COUNT):
        add(kugglucka.rotate(cirpattern_axis, i * 360 / CIRPATTERN_COUNT), mode=Mode.SUBTRACT)

    # Ritning 3 → Flänsar (revolve)
    with BuildSketch(Plane(origin=(0, 0, 0), x_dir=(0, 0, -1), z_dir=(1, 0, 0))):
        Polygon((-5.9, 4.7815), (-6.4, 4.7815), (-6.4, 6.495), (-7.170628684, 9.371025404), (-6.670628684, 9.505), (-5.9, 6.628974596), align=None)
        Polygon((5.9, 4.7815), (6.4, 4.7815), (6.4, 6.495), (7.170628684, 9.371025404), (6.670628684, 9.505), (5.9, 6.628974596), align=None)
    revolve(axis=Axis((0, -6.495, -6.4), (0, 0, 1)))

    # Ritning 4 → Axelhål (cut, through all)
    with BuildSketch(Plane.XY.offset(6.4)):
        with Locations((0, -6.495)):
            Circle(RITNING_4_R)
    extrude(amount=-AXELH_L_DEPTH, mode=Mode.SUBTRACT)


solid = part.part
